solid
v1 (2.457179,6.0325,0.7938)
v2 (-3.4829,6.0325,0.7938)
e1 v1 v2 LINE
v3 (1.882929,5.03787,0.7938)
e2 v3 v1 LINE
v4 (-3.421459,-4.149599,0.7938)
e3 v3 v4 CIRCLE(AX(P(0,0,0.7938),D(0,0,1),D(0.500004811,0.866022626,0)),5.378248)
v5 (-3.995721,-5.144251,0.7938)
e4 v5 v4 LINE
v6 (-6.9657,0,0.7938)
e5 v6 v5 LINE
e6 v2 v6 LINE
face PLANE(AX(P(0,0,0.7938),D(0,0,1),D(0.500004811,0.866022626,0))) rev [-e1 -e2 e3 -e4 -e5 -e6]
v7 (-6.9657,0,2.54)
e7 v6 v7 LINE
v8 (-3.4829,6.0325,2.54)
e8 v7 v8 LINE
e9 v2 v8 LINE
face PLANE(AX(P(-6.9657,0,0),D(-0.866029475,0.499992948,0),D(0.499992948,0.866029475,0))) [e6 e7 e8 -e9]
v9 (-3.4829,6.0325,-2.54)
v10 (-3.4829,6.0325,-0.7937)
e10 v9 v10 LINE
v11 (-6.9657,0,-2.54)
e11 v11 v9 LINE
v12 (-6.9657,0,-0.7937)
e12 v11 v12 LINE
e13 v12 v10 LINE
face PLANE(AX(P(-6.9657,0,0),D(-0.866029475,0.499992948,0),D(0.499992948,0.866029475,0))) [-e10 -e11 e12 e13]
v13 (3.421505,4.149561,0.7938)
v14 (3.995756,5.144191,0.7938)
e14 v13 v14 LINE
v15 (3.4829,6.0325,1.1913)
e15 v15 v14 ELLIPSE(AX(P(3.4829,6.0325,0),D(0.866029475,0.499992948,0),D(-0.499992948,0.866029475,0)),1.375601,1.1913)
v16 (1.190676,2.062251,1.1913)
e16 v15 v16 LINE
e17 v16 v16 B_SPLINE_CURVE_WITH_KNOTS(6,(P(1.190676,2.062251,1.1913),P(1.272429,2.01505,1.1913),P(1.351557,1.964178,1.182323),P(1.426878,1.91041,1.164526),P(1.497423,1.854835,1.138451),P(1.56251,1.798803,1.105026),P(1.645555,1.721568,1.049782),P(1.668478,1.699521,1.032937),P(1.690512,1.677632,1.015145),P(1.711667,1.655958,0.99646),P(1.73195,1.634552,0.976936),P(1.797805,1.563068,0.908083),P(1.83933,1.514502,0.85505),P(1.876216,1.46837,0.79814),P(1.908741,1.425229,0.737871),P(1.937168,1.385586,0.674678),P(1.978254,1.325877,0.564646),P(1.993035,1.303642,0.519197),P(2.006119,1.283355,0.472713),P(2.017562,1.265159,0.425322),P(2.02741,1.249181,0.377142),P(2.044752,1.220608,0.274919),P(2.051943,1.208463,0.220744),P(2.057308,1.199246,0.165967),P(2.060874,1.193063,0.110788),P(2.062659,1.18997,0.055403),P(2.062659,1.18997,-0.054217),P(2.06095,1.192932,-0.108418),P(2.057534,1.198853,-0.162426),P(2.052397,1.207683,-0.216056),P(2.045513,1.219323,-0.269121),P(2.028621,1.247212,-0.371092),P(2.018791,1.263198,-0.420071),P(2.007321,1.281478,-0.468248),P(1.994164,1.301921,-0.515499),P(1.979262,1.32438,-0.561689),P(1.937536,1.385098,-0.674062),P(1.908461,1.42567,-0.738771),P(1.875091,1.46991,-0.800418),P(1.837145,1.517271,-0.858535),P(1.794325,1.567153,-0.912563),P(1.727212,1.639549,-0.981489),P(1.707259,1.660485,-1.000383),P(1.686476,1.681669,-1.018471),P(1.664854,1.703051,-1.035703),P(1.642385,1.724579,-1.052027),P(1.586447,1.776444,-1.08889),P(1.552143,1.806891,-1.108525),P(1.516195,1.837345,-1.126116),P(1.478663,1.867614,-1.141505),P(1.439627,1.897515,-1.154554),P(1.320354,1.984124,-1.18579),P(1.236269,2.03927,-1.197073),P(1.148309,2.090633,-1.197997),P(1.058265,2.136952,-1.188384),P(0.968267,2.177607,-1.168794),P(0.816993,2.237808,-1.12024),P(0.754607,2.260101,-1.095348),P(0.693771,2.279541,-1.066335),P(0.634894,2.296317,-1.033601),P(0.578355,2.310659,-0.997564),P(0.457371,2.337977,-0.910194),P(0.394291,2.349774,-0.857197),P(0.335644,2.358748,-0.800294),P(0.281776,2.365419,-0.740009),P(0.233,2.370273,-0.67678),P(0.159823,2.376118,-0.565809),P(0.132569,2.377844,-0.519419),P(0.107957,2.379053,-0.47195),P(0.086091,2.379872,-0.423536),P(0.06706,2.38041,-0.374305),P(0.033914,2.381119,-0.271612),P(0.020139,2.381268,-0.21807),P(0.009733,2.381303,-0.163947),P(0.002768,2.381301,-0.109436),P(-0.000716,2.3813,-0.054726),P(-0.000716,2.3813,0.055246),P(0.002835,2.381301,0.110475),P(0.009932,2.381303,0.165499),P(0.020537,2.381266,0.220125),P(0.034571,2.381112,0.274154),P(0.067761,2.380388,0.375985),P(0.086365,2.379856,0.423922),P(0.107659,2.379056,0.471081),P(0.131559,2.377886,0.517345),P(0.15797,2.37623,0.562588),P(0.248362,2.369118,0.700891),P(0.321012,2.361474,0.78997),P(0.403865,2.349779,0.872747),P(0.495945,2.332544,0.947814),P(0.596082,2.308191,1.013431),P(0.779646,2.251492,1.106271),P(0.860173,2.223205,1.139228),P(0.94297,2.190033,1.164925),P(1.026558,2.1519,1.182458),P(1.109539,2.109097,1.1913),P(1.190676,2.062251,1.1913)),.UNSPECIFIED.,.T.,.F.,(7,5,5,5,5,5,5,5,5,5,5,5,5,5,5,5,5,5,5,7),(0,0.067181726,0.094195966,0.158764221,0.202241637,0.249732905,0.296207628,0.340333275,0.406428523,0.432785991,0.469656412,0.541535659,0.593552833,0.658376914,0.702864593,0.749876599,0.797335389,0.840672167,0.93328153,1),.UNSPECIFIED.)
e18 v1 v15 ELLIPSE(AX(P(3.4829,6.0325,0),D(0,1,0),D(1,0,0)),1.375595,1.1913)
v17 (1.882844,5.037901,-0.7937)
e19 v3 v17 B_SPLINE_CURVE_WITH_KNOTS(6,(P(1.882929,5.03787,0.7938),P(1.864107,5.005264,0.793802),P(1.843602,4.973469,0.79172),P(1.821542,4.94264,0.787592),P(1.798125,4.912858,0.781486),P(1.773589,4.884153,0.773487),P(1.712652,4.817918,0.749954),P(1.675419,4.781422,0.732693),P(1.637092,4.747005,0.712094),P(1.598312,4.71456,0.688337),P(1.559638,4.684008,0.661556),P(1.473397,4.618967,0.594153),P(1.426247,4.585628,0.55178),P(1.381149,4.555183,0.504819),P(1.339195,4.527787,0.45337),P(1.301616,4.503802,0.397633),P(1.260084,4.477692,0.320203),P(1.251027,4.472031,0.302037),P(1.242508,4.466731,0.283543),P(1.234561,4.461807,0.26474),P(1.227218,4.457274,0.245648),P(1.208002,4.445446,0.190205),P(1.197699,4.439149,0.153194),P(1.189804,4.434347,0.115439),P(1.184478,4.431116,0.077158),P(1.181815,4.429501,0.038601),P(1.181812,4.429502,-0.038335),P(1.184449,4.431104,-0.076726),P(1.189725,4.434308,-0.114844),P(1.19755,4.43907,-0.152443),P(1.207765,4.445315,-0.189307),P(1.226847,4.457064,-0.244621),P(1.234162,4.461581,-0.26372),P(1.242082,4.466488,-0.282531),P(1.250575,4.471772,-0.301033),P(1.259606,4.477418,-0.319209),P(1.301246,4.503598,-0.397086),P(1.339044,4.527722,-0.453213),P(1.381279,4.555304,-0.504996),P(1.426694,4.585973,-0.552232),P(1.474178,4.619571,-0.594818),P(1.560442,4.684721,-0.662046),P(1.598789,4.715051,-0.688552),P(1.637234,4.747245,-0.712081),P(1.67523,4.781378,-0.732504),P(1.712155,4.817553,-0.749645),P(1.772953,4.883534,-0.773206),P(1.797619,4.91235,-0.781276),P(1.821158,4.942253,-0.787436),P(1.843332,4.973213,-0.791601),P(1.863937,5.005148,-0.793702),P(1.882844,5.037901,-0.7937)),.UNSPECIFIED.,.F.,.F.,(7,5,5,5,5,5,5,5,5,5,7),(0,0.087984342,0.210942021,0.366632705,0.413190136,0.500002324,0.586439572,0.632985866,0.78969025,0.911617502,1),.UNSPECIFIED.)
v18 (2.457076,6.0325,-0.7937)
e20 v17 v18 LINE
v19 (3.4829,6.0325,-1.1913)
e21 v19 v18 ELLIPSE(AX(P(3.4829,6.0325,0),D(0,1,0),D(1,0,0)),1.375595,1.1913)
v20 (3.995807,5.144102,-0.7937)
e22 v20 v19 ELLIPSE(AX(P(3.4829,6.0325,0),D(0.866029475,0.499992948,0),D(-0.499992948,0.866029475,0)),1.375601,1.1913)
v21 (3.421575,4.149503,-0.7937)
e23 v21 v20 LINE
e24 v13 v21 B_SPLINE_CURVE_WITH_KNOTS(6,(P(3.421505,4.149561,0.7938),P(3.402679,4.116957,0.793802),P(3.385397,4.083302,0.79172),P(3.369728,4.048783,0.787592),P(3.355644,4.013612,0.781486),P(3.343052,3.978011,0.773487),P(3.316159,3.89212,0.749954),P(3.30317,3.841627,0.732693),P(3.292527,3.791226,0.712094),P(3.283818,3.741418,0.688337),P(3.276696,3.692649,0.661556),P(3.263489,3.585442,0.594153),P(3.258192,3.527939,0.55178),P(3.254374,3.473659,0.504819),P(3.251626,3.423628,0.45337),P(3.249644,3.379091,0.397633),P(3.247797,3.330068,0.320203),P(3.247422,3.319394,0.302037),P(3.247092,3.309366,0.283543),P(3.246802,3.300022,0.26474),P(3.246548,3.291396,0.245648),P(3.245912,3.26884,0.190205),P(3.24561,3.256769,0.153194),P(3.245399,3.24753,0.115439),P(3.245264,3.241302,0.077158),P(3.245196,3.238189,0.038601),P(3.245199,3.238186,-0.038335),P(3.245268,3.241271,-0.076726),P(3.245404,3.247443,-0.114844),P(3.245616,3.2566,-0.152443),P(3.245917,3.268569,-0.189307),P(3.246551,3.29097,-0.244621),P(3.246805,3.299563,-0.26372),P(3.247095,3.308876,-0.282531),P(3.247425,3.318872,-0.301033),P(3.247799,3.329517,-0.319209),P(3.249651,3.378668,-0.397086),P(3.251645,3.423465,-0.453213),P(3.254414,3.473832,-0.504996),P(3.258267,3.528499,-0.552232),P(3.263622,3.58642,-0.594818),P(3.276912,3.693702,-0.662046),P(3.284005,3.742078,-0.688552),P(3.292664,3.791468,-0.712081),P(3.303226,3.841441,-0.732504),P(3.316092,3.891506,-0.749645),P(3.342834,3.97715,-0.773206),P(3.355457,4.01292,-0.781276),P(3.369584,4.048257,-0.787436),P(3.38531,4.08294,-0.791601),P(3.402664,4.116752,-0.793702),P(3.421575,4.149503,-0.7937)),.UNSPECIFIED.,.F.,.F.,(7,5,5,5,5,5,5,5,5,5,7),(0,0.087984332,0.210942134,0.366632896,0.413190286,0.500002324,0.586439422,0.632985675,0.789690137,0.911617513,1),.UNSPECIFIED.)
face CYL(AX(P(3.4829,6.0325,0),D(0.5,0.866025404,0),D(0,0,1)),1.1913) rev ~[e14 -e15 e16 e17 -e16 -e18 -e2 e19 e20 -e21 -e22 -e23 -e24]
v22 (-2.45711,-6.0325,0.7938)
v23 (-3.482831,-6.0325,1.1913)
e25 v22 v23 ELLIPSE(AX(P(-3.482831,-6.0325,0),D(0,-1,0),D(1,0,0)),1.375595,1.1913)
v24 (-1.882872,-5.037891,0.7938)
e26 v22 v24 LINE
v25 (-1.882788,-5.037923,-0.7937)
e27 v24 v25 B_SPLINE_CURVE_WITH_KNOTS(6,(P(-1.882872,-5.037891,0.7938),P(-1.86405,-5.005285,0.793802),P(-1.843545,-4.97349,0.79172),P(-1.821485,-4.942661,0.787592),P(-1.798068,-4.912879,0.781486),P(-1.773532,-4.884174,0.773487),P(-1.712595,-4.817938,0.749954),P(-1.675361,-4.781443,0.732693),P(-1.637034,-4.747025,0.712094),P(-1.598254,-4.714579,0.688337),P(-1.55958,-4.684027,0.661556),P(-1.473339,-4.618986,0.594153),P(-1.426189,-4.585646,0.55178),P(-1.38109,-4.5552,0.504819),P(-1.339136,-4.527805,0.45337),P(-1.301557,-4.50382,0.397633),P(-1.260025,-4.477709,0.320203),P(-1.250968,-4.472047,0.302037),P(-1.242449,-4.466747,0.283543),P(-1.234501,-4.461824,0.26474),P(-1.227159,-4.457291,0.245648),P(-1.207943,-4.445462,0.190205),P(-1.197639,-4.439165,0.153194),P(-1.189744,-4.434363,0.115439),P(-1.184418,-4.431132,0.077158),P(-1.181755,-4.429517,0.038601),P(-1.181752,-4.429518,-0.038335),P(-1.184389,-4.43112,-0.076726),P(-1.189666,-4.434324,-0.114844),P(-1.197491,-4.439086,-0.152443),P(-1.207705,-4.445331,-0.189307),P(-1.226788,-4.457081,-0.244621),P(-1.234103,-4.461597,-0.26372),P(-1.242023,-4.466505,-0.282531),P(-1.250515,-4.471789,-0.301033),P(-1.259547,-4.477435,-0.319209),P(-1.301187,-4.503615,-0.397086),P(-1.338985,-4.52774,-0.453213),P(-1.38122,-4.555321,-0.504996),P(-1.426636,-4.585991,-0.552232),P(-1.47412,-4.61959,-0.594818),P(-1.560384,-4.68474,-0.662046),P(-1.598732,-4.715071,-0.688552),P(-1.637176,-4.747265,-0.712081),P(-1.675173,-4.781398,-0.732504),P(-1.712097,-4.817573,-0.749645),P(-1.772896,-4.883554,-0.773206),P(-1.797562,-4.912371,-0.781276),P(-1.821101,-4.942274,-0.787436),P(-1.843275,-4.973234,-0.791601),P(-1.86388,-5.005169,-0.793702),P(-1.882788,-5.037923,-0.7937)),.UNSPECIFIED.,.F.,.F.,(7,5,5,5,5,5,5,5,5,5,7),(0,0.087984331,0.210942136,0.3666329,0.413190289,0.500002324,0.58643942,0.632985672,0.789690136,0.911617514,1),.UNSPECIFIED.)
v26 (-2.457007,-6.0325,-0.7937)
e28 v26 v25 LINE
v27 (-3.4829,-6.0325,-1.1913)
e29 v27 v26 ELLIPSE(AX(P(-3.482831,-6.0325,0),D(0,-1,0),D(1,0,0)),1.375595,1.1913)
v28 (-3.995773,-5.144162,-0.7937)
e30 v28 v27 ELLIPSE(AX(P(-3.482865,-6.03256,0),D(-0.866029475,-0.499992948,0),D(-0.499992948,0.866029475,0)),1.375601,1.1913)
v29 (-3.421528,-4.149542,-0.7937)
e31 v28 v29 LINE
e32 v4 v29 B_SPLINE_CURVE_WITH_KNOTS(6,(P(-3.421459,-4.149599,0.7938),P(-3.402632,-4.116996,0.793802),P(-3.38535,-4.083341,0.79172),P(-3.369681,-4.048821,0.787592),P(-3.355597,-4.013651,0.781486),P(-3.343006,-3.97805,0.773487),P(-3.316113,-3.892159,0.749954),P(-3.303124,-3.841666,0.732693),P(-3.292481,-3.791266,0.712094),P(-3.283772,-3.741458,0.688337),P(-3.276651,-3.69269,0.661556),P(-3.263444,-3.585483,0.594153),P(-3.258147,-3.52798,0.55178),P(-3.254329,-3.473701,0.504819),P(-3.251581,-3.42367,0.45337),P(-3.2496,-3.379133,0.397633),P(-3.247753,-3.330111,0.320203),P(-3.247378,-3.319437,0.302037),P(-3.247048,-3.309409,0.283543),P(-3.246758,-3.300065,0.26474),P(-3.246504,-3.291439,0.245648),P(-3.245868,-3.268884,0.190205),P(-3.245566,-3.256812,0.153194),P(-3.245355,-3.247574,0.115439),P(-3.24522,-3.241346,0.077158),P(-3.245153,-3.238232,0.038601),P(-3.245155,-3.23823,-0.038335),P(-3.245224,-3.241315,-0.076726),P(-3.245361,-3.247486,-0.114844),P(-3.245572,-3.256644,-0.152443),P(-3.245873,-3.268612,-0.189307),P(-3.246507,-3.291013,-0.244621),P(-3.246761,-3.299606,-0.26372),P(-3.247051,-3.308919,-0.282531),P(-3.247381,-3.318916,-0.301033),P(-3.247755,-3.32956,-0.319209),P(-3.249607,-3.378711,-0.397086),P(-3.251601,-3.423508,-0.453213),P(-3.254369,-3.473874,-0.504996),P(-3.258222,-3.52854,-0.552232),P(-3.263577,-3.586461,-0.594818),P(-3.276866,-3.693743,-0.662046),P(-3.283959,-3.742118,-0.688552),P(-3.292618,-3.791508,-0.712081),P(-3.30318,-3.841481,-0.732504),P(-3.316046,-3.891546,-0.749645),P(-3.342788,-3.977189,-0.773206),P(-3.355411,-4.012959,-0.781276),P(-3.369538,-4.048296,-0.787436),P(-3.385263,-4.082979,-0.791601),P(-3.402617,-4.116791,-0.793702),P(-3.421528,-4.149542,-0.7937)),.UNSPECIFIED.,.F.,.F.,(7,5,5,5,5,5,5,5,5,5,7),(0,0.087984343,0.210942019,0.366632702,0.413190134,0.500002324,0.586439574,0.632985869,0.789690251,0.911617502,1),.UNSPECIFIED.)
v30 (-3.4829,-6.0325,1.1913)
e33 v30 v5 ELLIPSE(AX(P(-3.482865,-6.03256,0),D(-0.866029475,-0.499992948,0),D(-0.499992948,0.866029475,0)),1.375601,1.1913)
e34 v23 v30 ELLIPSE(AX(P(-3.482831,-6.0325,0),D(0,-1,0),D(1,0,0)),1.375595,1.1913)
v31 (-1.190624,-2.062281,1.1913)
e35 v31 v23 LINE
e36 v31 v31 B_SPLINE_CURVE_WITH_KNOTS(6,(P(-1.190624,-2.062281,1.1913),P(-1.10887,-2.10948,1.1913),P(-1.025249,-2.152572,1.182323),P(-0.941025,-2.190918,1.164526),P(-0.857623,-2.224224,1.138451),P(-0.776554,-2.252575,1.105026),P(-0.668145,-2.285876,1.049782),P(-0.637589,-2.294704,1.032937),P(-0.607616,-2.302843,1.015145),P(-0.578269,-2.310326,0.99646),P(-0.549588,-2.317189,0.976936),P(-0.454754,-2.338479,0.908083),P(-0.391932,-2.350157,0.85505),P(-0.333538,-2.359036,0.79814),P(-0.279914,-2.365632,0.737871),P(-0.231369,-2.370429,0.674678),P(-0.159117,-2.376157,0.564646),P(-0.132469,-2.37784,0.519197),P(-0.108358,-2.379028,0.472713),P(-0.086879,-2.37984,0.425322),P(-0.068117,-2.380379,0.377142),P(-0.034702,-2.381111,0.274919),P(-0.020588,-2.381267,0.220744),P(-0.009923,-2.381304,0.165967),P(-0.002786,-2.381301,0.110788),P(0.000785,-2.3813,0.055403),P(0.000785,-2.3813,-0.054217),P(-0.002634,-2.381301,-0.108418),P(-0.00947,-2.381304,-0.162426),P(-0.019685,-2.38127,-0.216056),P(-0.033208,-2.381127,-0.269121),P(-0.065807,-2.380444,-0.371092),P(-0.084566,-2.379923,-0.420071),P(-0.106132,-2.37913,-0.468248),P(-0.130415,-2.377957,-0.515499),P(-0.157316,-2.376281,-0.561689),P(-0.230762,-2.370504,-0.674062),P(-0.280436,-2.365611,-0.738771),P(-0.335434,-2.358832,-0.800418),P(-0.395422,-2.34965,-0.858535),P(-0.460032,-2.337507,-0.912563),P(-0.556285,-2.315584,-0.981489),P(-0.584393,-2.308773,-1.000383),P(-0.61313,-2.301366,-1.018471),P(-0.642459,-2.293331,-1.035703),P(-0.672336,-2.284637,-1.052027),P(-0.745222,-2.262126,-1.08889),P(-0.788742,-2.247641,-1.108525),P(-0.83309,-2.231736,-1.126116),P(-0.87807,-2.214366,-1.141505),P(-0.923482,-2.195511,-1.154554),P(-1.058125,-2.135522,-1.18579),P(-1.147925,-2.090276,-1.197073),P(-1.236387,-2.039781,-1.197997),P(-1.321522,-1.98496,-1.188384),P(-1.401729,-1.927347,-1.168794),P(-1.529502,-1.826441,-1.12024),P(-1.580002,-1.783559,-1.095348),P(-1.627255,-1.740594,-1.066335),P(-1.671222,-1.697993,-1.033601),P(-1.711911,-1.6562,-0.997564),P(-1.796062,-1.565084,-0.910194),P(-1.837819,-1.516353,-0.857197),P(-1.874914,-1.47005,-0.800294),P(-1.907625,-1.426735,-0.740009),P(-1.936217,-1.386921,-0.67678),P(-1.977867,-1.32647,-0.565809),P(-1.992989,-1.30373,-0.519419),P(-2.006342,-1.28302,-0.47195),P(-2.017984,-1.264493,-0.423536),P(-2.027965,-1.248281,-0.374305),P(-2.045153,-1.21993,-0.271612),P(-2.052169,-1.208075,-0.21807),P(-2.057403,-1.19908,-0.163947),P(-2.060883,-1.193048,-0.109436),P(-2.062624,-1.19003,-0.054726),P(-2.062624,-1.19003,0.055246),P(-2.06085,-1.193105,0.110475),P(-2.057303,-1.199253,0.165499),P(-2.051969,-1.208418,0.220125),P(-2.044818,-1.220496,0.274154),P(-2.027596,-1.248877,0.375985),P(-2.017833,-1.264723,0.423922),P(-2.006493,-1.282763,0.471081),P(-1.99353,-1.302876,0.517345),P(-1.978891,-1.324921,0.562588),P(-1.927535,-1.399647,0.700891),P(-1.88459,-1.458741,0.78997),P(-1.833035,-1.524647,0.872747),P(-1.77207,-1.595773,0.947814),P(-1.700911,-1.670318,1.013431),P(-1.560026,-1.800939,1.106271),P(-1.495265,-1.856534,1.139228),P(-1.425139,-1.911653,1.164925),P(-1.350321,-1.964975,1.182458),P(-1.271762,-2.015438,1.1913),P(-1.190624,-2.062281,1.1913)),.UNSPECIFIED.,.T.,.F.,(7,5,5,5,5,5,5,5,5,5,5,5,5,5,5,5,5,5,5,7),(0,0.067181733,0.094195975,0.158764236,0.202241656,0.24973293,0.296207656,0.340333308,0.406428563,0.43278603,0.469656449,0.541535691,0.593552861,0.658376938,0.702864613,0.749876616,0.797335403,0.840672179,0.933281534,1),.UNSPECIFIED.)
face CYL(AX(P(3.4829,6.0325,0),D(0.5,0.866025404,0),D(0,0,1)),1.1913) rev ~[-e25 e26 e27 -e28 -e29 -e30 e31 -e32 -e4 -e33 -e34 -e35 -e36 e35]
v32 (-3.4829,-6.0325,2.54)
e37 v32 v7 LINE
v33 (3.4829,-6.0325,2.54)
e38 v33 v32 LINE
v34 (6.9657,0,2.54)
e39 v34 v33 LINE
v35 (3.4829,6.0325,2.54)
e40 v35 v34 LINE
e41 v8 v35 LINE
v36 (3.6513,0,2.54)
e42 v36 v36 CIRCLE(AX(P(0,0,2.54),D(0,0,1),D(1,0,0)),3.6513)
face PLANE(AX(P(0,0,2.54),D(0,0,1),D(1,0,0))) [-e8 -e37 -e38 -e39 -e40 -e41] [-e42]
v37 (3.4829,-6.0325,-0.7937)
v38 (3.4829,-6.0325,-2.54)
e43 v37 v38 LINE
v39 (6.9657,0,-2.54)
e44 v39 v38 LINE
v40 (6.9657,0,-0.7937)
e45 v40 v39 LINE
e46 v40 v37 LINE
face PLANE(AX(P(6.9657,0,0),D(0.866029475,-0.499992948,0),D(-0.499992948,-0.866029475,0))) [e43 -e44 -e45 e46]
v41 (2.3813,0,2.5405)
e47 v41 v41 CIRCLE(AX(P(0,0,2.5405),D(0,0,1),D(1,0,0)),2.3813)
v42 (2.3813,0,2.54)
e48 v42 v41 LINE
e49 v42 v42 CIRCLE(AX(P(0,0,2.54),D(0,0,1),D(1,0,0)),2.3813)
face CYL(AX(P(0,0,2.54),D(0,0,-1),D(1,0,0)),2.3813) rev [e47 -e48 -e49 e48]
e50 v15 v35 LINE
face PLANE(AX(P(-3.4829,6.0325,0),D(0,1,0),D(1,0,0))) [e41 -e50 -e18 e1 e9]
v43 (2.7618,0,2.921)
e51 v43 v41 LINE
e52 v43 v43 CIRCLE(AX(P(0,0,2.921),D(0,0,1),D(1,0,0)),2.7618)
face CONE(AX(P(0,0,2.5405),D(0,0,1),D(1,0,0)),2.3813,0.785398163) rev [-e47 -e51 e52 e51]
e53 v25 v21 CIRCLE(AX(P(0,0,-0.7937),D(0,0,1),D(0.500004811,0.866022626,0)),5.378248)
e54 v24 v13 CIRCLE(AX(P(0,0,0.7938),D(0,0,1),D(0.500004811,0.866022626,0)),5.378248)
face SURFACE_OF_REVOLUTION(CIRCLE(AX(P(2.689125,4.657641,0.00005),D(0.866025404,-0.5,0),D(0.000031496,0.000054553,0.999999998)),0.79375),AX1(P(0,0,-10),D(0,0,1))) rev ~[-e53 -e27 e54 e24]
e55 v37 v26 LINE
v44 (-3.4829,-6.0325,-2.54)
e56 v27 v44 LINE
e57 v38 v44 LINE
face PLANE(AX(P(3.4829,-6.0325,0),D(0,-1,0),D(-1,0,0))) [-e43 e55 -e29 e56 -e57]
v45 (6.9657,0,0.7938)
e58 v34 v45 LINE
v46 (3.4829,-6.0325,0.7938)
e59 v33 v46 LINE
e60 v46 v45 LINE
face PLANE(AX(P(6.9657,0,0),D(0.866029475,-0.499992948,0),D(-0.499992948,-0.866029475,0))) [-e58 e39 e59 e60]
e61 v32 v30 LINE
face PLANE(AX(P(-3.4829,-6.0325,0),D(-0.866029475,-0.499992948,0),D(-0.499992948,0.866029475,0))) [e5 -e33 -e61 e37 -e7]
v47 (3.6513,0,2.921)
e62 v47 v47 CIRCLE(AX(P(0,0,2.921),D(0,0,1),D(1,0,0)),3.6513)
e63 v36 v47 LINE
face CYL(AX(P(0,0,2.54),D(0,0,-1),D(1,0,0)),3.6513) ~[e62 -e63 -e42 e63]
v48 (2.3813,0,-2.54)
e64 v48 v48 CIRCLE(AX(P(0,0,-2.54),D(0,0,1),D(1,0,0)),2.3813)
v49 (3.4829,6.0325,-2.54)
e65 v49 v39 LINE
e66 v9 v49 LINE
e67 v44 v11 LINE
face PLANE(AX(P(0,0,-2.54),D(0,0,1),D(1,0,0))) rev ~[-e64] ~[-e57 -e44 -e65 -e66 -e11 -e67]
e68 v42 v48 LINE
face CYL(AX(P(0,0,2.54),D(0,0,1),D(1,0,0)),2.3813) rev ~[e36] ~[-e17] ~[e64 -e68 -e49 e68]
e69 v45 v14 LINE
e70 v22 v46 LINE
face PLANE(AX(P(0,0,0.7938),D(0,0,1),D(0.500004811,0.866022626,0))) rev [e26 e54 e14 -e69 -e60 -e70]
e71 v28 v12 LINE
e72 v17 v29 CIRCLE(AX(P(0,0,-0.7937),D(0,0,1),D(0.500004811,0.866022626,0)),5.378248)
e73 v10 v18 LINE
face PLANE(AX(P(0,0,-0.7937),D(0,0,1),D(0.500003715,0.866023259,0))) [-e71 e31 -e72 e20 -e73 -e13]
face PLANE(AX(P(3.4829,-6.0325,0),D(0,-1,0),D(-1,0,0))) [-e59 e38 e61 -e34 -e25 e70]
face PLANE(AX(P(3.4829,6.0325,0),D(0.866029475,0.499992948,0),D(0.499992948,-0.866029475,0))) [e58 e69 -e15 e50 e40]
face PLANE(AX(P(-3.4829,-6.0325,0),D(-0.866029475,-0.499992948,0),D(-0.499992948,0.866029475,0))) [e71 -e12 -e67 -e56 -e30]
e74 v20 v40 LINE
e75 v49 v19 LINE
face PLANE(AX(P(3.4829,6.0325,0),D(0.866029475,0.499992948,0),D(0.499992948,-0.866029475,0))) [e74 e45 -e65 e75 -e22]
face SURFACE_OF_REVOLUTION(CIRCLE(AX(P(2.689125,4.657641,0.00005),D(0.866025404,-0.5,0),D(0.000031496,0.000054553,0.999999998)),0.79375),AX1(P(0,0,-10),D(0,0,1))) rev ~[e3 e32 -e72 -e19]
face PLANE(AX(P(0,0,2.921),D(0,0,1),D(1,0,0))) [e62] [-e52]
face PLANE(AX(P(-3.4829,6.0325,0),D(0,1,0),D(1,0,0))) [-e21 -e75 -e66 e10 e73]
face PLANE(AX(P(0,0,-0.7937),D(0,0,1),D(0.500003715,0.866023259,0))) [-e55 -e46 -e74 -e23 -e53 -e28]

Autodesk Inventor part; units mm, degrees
ref_plane "YZ Plane" through (0, 0, 0) normal (1, 0, 0) x (0, 1, 0)
sketch "Sketch1" plane through (0, 0, 0) normal (0, 0, 1) x (1, 0, 0)
  circle A0 centre (0, 0) radius 6.0325 construction
  line L0 (3.4829, 6.0325) -> (6.9657, 0)
  line L1 (6.9657, 0) -> (3.4829, -6.0325)
  line L2 (3.4829, -6.0325) -> (-3.4829, -6.0325)
  line L3 (-3.4829, -6.0325) -> (-6.9657, 0)
  line L4 (-6.9657, 0) -> (-3.4829, 6.0325)
  line L5 (-3.4829, 6.0325) -> (3.4829, 6.0325)
  point P0 (0, 6.0325)
  dimension "d0" = 12.065
extrude "Extrusion1" add sketch "Sketch1" along normal mid plane 5.08
sketch "Sketch2" plane through (0, 0, 2.54) normal (0, 0, 1) x (1, 0, 0)
  circle A0 centre (0, 0) radius 2.3813
  circle A1 centre (0, 0) radius 3.6513
  dimension "d3" = 4.7625
  dimension "d4" = 1.27
extrude "Extrusion2" add sketch "Sketch2" along normal blind 0.381
extrude "Extrusion3" cut sketch "Sketch2" against normal through all contours A0
chamfer "Chamfer1" distance 0.381 angle 45 1 edges at (-2.3813, 0, 2.921)
ref_plane "Work Plane1" through (3.4829, 6.0325, 0) normal (0.5, 0.866, 0) x (0, 0, 1)
sketch "Sketch3" plane through (3.4829, 6.0325, 0) normal (0.5, 0.866, 0) x (0, 0, 1)
  circle A0 centre (0, 0) radius 1.1913
  dimension "d13" = 2.3825
extrude "Extrusion4" cut sketch "Sketch3" against normal through all
ref_plane "Work Plane2" through (3.4829, 6.0325, 0) normal (0.866, -0.5, 0) x (0, 0, 1)
sketch "Sketch4" plane through (3.4829, 6.0325, 0) normal (0.866, -0.5, 0) x (0, 0, 1)
  line L0 (-1.1913, 4.5845) -> (-1.1913, 0) construction
  line L1 (-1.1913, 0) -> (-2.54, 0) construction
  line L2 (-2.54, 0) -> (-2.54, 4.5845) construction
  line L3 (-2.54, 4.5845) -> (-1.1913, 4.5845) construction
  line L4 (-1.1913, 13.9315) -> (-1.1913, 9.347) construction
  line L5 (-1.1913, 9.347) -> (-2.54, 9.347) construction
  line L6 (-2.54, 9.347) -> (-2.54, 13.9315) construction
  line L7 (-2.54, 13.9315) -> (-1.1913, 13.9315) construction
  line L8 (2.921, 9.728) -> (2.54, 9.347) construction
  line L9 (2.54, 9.347) -> (1.1913, 9.347) construction
  line L10 (1.1913, 9.347) -> (1.1913, 13.9315) construction
  line L11 (1.1913, 13.9315) -> (2.54, 13.9315) construction
  line L12 (2.54, 13.9315) -> (2.54, 10.617) construction
  line L13 (2.54, 10.617) -> (2.921, 10.617) construction
  line L14 (2.921, 10.617) -> (2.921, 9.728) construction
  line L15 (2.54, 4.5845) -> (2.921, 4.2035) construction
  line L16 (2.921, 4.2035) -> (2.921, 3.3145) construction
  line L17 (2.921, 3.3145) -> (2.54, 3.3145) construction
  line L18 (2.54, 3.3145) -> (2.54, 0) construction
  line L19 (2.54, 0) -> (1.1913, 0) construction
  line L20 (1.1913, 0) -> (1.1913, 4.5845) construction
  line L21 (1.1913, 4.5845) -> (2.54, 4.5845) construction
  line L22 (-0.7937, 0) -> (-0.7937, 1.5875)
  arc A0 (0.7938, 1.5875) -> (-0.7937, 1.5875) centre (0, 1.5875) ccw
  line L23 (0.7938, 1.5875) -> (0.7938, 0)
  line L24 (0.7938, 0) -> (-0.7937, 0)
  line L25 (-3.6322, 6.9657) -> (4.0132, 6.9657) projected
  point P0 (0, 6.9657)
  dimension "d16" = 1.5875
  dimension "d17" = 1.5875
revolve "Revolution1" cut sketch "Sketch4" angle 360 about axis through (0, 0, -10) along (0, 0, 1)
equation "\"d17\" = d16"
properties part number "Hex Drive"
